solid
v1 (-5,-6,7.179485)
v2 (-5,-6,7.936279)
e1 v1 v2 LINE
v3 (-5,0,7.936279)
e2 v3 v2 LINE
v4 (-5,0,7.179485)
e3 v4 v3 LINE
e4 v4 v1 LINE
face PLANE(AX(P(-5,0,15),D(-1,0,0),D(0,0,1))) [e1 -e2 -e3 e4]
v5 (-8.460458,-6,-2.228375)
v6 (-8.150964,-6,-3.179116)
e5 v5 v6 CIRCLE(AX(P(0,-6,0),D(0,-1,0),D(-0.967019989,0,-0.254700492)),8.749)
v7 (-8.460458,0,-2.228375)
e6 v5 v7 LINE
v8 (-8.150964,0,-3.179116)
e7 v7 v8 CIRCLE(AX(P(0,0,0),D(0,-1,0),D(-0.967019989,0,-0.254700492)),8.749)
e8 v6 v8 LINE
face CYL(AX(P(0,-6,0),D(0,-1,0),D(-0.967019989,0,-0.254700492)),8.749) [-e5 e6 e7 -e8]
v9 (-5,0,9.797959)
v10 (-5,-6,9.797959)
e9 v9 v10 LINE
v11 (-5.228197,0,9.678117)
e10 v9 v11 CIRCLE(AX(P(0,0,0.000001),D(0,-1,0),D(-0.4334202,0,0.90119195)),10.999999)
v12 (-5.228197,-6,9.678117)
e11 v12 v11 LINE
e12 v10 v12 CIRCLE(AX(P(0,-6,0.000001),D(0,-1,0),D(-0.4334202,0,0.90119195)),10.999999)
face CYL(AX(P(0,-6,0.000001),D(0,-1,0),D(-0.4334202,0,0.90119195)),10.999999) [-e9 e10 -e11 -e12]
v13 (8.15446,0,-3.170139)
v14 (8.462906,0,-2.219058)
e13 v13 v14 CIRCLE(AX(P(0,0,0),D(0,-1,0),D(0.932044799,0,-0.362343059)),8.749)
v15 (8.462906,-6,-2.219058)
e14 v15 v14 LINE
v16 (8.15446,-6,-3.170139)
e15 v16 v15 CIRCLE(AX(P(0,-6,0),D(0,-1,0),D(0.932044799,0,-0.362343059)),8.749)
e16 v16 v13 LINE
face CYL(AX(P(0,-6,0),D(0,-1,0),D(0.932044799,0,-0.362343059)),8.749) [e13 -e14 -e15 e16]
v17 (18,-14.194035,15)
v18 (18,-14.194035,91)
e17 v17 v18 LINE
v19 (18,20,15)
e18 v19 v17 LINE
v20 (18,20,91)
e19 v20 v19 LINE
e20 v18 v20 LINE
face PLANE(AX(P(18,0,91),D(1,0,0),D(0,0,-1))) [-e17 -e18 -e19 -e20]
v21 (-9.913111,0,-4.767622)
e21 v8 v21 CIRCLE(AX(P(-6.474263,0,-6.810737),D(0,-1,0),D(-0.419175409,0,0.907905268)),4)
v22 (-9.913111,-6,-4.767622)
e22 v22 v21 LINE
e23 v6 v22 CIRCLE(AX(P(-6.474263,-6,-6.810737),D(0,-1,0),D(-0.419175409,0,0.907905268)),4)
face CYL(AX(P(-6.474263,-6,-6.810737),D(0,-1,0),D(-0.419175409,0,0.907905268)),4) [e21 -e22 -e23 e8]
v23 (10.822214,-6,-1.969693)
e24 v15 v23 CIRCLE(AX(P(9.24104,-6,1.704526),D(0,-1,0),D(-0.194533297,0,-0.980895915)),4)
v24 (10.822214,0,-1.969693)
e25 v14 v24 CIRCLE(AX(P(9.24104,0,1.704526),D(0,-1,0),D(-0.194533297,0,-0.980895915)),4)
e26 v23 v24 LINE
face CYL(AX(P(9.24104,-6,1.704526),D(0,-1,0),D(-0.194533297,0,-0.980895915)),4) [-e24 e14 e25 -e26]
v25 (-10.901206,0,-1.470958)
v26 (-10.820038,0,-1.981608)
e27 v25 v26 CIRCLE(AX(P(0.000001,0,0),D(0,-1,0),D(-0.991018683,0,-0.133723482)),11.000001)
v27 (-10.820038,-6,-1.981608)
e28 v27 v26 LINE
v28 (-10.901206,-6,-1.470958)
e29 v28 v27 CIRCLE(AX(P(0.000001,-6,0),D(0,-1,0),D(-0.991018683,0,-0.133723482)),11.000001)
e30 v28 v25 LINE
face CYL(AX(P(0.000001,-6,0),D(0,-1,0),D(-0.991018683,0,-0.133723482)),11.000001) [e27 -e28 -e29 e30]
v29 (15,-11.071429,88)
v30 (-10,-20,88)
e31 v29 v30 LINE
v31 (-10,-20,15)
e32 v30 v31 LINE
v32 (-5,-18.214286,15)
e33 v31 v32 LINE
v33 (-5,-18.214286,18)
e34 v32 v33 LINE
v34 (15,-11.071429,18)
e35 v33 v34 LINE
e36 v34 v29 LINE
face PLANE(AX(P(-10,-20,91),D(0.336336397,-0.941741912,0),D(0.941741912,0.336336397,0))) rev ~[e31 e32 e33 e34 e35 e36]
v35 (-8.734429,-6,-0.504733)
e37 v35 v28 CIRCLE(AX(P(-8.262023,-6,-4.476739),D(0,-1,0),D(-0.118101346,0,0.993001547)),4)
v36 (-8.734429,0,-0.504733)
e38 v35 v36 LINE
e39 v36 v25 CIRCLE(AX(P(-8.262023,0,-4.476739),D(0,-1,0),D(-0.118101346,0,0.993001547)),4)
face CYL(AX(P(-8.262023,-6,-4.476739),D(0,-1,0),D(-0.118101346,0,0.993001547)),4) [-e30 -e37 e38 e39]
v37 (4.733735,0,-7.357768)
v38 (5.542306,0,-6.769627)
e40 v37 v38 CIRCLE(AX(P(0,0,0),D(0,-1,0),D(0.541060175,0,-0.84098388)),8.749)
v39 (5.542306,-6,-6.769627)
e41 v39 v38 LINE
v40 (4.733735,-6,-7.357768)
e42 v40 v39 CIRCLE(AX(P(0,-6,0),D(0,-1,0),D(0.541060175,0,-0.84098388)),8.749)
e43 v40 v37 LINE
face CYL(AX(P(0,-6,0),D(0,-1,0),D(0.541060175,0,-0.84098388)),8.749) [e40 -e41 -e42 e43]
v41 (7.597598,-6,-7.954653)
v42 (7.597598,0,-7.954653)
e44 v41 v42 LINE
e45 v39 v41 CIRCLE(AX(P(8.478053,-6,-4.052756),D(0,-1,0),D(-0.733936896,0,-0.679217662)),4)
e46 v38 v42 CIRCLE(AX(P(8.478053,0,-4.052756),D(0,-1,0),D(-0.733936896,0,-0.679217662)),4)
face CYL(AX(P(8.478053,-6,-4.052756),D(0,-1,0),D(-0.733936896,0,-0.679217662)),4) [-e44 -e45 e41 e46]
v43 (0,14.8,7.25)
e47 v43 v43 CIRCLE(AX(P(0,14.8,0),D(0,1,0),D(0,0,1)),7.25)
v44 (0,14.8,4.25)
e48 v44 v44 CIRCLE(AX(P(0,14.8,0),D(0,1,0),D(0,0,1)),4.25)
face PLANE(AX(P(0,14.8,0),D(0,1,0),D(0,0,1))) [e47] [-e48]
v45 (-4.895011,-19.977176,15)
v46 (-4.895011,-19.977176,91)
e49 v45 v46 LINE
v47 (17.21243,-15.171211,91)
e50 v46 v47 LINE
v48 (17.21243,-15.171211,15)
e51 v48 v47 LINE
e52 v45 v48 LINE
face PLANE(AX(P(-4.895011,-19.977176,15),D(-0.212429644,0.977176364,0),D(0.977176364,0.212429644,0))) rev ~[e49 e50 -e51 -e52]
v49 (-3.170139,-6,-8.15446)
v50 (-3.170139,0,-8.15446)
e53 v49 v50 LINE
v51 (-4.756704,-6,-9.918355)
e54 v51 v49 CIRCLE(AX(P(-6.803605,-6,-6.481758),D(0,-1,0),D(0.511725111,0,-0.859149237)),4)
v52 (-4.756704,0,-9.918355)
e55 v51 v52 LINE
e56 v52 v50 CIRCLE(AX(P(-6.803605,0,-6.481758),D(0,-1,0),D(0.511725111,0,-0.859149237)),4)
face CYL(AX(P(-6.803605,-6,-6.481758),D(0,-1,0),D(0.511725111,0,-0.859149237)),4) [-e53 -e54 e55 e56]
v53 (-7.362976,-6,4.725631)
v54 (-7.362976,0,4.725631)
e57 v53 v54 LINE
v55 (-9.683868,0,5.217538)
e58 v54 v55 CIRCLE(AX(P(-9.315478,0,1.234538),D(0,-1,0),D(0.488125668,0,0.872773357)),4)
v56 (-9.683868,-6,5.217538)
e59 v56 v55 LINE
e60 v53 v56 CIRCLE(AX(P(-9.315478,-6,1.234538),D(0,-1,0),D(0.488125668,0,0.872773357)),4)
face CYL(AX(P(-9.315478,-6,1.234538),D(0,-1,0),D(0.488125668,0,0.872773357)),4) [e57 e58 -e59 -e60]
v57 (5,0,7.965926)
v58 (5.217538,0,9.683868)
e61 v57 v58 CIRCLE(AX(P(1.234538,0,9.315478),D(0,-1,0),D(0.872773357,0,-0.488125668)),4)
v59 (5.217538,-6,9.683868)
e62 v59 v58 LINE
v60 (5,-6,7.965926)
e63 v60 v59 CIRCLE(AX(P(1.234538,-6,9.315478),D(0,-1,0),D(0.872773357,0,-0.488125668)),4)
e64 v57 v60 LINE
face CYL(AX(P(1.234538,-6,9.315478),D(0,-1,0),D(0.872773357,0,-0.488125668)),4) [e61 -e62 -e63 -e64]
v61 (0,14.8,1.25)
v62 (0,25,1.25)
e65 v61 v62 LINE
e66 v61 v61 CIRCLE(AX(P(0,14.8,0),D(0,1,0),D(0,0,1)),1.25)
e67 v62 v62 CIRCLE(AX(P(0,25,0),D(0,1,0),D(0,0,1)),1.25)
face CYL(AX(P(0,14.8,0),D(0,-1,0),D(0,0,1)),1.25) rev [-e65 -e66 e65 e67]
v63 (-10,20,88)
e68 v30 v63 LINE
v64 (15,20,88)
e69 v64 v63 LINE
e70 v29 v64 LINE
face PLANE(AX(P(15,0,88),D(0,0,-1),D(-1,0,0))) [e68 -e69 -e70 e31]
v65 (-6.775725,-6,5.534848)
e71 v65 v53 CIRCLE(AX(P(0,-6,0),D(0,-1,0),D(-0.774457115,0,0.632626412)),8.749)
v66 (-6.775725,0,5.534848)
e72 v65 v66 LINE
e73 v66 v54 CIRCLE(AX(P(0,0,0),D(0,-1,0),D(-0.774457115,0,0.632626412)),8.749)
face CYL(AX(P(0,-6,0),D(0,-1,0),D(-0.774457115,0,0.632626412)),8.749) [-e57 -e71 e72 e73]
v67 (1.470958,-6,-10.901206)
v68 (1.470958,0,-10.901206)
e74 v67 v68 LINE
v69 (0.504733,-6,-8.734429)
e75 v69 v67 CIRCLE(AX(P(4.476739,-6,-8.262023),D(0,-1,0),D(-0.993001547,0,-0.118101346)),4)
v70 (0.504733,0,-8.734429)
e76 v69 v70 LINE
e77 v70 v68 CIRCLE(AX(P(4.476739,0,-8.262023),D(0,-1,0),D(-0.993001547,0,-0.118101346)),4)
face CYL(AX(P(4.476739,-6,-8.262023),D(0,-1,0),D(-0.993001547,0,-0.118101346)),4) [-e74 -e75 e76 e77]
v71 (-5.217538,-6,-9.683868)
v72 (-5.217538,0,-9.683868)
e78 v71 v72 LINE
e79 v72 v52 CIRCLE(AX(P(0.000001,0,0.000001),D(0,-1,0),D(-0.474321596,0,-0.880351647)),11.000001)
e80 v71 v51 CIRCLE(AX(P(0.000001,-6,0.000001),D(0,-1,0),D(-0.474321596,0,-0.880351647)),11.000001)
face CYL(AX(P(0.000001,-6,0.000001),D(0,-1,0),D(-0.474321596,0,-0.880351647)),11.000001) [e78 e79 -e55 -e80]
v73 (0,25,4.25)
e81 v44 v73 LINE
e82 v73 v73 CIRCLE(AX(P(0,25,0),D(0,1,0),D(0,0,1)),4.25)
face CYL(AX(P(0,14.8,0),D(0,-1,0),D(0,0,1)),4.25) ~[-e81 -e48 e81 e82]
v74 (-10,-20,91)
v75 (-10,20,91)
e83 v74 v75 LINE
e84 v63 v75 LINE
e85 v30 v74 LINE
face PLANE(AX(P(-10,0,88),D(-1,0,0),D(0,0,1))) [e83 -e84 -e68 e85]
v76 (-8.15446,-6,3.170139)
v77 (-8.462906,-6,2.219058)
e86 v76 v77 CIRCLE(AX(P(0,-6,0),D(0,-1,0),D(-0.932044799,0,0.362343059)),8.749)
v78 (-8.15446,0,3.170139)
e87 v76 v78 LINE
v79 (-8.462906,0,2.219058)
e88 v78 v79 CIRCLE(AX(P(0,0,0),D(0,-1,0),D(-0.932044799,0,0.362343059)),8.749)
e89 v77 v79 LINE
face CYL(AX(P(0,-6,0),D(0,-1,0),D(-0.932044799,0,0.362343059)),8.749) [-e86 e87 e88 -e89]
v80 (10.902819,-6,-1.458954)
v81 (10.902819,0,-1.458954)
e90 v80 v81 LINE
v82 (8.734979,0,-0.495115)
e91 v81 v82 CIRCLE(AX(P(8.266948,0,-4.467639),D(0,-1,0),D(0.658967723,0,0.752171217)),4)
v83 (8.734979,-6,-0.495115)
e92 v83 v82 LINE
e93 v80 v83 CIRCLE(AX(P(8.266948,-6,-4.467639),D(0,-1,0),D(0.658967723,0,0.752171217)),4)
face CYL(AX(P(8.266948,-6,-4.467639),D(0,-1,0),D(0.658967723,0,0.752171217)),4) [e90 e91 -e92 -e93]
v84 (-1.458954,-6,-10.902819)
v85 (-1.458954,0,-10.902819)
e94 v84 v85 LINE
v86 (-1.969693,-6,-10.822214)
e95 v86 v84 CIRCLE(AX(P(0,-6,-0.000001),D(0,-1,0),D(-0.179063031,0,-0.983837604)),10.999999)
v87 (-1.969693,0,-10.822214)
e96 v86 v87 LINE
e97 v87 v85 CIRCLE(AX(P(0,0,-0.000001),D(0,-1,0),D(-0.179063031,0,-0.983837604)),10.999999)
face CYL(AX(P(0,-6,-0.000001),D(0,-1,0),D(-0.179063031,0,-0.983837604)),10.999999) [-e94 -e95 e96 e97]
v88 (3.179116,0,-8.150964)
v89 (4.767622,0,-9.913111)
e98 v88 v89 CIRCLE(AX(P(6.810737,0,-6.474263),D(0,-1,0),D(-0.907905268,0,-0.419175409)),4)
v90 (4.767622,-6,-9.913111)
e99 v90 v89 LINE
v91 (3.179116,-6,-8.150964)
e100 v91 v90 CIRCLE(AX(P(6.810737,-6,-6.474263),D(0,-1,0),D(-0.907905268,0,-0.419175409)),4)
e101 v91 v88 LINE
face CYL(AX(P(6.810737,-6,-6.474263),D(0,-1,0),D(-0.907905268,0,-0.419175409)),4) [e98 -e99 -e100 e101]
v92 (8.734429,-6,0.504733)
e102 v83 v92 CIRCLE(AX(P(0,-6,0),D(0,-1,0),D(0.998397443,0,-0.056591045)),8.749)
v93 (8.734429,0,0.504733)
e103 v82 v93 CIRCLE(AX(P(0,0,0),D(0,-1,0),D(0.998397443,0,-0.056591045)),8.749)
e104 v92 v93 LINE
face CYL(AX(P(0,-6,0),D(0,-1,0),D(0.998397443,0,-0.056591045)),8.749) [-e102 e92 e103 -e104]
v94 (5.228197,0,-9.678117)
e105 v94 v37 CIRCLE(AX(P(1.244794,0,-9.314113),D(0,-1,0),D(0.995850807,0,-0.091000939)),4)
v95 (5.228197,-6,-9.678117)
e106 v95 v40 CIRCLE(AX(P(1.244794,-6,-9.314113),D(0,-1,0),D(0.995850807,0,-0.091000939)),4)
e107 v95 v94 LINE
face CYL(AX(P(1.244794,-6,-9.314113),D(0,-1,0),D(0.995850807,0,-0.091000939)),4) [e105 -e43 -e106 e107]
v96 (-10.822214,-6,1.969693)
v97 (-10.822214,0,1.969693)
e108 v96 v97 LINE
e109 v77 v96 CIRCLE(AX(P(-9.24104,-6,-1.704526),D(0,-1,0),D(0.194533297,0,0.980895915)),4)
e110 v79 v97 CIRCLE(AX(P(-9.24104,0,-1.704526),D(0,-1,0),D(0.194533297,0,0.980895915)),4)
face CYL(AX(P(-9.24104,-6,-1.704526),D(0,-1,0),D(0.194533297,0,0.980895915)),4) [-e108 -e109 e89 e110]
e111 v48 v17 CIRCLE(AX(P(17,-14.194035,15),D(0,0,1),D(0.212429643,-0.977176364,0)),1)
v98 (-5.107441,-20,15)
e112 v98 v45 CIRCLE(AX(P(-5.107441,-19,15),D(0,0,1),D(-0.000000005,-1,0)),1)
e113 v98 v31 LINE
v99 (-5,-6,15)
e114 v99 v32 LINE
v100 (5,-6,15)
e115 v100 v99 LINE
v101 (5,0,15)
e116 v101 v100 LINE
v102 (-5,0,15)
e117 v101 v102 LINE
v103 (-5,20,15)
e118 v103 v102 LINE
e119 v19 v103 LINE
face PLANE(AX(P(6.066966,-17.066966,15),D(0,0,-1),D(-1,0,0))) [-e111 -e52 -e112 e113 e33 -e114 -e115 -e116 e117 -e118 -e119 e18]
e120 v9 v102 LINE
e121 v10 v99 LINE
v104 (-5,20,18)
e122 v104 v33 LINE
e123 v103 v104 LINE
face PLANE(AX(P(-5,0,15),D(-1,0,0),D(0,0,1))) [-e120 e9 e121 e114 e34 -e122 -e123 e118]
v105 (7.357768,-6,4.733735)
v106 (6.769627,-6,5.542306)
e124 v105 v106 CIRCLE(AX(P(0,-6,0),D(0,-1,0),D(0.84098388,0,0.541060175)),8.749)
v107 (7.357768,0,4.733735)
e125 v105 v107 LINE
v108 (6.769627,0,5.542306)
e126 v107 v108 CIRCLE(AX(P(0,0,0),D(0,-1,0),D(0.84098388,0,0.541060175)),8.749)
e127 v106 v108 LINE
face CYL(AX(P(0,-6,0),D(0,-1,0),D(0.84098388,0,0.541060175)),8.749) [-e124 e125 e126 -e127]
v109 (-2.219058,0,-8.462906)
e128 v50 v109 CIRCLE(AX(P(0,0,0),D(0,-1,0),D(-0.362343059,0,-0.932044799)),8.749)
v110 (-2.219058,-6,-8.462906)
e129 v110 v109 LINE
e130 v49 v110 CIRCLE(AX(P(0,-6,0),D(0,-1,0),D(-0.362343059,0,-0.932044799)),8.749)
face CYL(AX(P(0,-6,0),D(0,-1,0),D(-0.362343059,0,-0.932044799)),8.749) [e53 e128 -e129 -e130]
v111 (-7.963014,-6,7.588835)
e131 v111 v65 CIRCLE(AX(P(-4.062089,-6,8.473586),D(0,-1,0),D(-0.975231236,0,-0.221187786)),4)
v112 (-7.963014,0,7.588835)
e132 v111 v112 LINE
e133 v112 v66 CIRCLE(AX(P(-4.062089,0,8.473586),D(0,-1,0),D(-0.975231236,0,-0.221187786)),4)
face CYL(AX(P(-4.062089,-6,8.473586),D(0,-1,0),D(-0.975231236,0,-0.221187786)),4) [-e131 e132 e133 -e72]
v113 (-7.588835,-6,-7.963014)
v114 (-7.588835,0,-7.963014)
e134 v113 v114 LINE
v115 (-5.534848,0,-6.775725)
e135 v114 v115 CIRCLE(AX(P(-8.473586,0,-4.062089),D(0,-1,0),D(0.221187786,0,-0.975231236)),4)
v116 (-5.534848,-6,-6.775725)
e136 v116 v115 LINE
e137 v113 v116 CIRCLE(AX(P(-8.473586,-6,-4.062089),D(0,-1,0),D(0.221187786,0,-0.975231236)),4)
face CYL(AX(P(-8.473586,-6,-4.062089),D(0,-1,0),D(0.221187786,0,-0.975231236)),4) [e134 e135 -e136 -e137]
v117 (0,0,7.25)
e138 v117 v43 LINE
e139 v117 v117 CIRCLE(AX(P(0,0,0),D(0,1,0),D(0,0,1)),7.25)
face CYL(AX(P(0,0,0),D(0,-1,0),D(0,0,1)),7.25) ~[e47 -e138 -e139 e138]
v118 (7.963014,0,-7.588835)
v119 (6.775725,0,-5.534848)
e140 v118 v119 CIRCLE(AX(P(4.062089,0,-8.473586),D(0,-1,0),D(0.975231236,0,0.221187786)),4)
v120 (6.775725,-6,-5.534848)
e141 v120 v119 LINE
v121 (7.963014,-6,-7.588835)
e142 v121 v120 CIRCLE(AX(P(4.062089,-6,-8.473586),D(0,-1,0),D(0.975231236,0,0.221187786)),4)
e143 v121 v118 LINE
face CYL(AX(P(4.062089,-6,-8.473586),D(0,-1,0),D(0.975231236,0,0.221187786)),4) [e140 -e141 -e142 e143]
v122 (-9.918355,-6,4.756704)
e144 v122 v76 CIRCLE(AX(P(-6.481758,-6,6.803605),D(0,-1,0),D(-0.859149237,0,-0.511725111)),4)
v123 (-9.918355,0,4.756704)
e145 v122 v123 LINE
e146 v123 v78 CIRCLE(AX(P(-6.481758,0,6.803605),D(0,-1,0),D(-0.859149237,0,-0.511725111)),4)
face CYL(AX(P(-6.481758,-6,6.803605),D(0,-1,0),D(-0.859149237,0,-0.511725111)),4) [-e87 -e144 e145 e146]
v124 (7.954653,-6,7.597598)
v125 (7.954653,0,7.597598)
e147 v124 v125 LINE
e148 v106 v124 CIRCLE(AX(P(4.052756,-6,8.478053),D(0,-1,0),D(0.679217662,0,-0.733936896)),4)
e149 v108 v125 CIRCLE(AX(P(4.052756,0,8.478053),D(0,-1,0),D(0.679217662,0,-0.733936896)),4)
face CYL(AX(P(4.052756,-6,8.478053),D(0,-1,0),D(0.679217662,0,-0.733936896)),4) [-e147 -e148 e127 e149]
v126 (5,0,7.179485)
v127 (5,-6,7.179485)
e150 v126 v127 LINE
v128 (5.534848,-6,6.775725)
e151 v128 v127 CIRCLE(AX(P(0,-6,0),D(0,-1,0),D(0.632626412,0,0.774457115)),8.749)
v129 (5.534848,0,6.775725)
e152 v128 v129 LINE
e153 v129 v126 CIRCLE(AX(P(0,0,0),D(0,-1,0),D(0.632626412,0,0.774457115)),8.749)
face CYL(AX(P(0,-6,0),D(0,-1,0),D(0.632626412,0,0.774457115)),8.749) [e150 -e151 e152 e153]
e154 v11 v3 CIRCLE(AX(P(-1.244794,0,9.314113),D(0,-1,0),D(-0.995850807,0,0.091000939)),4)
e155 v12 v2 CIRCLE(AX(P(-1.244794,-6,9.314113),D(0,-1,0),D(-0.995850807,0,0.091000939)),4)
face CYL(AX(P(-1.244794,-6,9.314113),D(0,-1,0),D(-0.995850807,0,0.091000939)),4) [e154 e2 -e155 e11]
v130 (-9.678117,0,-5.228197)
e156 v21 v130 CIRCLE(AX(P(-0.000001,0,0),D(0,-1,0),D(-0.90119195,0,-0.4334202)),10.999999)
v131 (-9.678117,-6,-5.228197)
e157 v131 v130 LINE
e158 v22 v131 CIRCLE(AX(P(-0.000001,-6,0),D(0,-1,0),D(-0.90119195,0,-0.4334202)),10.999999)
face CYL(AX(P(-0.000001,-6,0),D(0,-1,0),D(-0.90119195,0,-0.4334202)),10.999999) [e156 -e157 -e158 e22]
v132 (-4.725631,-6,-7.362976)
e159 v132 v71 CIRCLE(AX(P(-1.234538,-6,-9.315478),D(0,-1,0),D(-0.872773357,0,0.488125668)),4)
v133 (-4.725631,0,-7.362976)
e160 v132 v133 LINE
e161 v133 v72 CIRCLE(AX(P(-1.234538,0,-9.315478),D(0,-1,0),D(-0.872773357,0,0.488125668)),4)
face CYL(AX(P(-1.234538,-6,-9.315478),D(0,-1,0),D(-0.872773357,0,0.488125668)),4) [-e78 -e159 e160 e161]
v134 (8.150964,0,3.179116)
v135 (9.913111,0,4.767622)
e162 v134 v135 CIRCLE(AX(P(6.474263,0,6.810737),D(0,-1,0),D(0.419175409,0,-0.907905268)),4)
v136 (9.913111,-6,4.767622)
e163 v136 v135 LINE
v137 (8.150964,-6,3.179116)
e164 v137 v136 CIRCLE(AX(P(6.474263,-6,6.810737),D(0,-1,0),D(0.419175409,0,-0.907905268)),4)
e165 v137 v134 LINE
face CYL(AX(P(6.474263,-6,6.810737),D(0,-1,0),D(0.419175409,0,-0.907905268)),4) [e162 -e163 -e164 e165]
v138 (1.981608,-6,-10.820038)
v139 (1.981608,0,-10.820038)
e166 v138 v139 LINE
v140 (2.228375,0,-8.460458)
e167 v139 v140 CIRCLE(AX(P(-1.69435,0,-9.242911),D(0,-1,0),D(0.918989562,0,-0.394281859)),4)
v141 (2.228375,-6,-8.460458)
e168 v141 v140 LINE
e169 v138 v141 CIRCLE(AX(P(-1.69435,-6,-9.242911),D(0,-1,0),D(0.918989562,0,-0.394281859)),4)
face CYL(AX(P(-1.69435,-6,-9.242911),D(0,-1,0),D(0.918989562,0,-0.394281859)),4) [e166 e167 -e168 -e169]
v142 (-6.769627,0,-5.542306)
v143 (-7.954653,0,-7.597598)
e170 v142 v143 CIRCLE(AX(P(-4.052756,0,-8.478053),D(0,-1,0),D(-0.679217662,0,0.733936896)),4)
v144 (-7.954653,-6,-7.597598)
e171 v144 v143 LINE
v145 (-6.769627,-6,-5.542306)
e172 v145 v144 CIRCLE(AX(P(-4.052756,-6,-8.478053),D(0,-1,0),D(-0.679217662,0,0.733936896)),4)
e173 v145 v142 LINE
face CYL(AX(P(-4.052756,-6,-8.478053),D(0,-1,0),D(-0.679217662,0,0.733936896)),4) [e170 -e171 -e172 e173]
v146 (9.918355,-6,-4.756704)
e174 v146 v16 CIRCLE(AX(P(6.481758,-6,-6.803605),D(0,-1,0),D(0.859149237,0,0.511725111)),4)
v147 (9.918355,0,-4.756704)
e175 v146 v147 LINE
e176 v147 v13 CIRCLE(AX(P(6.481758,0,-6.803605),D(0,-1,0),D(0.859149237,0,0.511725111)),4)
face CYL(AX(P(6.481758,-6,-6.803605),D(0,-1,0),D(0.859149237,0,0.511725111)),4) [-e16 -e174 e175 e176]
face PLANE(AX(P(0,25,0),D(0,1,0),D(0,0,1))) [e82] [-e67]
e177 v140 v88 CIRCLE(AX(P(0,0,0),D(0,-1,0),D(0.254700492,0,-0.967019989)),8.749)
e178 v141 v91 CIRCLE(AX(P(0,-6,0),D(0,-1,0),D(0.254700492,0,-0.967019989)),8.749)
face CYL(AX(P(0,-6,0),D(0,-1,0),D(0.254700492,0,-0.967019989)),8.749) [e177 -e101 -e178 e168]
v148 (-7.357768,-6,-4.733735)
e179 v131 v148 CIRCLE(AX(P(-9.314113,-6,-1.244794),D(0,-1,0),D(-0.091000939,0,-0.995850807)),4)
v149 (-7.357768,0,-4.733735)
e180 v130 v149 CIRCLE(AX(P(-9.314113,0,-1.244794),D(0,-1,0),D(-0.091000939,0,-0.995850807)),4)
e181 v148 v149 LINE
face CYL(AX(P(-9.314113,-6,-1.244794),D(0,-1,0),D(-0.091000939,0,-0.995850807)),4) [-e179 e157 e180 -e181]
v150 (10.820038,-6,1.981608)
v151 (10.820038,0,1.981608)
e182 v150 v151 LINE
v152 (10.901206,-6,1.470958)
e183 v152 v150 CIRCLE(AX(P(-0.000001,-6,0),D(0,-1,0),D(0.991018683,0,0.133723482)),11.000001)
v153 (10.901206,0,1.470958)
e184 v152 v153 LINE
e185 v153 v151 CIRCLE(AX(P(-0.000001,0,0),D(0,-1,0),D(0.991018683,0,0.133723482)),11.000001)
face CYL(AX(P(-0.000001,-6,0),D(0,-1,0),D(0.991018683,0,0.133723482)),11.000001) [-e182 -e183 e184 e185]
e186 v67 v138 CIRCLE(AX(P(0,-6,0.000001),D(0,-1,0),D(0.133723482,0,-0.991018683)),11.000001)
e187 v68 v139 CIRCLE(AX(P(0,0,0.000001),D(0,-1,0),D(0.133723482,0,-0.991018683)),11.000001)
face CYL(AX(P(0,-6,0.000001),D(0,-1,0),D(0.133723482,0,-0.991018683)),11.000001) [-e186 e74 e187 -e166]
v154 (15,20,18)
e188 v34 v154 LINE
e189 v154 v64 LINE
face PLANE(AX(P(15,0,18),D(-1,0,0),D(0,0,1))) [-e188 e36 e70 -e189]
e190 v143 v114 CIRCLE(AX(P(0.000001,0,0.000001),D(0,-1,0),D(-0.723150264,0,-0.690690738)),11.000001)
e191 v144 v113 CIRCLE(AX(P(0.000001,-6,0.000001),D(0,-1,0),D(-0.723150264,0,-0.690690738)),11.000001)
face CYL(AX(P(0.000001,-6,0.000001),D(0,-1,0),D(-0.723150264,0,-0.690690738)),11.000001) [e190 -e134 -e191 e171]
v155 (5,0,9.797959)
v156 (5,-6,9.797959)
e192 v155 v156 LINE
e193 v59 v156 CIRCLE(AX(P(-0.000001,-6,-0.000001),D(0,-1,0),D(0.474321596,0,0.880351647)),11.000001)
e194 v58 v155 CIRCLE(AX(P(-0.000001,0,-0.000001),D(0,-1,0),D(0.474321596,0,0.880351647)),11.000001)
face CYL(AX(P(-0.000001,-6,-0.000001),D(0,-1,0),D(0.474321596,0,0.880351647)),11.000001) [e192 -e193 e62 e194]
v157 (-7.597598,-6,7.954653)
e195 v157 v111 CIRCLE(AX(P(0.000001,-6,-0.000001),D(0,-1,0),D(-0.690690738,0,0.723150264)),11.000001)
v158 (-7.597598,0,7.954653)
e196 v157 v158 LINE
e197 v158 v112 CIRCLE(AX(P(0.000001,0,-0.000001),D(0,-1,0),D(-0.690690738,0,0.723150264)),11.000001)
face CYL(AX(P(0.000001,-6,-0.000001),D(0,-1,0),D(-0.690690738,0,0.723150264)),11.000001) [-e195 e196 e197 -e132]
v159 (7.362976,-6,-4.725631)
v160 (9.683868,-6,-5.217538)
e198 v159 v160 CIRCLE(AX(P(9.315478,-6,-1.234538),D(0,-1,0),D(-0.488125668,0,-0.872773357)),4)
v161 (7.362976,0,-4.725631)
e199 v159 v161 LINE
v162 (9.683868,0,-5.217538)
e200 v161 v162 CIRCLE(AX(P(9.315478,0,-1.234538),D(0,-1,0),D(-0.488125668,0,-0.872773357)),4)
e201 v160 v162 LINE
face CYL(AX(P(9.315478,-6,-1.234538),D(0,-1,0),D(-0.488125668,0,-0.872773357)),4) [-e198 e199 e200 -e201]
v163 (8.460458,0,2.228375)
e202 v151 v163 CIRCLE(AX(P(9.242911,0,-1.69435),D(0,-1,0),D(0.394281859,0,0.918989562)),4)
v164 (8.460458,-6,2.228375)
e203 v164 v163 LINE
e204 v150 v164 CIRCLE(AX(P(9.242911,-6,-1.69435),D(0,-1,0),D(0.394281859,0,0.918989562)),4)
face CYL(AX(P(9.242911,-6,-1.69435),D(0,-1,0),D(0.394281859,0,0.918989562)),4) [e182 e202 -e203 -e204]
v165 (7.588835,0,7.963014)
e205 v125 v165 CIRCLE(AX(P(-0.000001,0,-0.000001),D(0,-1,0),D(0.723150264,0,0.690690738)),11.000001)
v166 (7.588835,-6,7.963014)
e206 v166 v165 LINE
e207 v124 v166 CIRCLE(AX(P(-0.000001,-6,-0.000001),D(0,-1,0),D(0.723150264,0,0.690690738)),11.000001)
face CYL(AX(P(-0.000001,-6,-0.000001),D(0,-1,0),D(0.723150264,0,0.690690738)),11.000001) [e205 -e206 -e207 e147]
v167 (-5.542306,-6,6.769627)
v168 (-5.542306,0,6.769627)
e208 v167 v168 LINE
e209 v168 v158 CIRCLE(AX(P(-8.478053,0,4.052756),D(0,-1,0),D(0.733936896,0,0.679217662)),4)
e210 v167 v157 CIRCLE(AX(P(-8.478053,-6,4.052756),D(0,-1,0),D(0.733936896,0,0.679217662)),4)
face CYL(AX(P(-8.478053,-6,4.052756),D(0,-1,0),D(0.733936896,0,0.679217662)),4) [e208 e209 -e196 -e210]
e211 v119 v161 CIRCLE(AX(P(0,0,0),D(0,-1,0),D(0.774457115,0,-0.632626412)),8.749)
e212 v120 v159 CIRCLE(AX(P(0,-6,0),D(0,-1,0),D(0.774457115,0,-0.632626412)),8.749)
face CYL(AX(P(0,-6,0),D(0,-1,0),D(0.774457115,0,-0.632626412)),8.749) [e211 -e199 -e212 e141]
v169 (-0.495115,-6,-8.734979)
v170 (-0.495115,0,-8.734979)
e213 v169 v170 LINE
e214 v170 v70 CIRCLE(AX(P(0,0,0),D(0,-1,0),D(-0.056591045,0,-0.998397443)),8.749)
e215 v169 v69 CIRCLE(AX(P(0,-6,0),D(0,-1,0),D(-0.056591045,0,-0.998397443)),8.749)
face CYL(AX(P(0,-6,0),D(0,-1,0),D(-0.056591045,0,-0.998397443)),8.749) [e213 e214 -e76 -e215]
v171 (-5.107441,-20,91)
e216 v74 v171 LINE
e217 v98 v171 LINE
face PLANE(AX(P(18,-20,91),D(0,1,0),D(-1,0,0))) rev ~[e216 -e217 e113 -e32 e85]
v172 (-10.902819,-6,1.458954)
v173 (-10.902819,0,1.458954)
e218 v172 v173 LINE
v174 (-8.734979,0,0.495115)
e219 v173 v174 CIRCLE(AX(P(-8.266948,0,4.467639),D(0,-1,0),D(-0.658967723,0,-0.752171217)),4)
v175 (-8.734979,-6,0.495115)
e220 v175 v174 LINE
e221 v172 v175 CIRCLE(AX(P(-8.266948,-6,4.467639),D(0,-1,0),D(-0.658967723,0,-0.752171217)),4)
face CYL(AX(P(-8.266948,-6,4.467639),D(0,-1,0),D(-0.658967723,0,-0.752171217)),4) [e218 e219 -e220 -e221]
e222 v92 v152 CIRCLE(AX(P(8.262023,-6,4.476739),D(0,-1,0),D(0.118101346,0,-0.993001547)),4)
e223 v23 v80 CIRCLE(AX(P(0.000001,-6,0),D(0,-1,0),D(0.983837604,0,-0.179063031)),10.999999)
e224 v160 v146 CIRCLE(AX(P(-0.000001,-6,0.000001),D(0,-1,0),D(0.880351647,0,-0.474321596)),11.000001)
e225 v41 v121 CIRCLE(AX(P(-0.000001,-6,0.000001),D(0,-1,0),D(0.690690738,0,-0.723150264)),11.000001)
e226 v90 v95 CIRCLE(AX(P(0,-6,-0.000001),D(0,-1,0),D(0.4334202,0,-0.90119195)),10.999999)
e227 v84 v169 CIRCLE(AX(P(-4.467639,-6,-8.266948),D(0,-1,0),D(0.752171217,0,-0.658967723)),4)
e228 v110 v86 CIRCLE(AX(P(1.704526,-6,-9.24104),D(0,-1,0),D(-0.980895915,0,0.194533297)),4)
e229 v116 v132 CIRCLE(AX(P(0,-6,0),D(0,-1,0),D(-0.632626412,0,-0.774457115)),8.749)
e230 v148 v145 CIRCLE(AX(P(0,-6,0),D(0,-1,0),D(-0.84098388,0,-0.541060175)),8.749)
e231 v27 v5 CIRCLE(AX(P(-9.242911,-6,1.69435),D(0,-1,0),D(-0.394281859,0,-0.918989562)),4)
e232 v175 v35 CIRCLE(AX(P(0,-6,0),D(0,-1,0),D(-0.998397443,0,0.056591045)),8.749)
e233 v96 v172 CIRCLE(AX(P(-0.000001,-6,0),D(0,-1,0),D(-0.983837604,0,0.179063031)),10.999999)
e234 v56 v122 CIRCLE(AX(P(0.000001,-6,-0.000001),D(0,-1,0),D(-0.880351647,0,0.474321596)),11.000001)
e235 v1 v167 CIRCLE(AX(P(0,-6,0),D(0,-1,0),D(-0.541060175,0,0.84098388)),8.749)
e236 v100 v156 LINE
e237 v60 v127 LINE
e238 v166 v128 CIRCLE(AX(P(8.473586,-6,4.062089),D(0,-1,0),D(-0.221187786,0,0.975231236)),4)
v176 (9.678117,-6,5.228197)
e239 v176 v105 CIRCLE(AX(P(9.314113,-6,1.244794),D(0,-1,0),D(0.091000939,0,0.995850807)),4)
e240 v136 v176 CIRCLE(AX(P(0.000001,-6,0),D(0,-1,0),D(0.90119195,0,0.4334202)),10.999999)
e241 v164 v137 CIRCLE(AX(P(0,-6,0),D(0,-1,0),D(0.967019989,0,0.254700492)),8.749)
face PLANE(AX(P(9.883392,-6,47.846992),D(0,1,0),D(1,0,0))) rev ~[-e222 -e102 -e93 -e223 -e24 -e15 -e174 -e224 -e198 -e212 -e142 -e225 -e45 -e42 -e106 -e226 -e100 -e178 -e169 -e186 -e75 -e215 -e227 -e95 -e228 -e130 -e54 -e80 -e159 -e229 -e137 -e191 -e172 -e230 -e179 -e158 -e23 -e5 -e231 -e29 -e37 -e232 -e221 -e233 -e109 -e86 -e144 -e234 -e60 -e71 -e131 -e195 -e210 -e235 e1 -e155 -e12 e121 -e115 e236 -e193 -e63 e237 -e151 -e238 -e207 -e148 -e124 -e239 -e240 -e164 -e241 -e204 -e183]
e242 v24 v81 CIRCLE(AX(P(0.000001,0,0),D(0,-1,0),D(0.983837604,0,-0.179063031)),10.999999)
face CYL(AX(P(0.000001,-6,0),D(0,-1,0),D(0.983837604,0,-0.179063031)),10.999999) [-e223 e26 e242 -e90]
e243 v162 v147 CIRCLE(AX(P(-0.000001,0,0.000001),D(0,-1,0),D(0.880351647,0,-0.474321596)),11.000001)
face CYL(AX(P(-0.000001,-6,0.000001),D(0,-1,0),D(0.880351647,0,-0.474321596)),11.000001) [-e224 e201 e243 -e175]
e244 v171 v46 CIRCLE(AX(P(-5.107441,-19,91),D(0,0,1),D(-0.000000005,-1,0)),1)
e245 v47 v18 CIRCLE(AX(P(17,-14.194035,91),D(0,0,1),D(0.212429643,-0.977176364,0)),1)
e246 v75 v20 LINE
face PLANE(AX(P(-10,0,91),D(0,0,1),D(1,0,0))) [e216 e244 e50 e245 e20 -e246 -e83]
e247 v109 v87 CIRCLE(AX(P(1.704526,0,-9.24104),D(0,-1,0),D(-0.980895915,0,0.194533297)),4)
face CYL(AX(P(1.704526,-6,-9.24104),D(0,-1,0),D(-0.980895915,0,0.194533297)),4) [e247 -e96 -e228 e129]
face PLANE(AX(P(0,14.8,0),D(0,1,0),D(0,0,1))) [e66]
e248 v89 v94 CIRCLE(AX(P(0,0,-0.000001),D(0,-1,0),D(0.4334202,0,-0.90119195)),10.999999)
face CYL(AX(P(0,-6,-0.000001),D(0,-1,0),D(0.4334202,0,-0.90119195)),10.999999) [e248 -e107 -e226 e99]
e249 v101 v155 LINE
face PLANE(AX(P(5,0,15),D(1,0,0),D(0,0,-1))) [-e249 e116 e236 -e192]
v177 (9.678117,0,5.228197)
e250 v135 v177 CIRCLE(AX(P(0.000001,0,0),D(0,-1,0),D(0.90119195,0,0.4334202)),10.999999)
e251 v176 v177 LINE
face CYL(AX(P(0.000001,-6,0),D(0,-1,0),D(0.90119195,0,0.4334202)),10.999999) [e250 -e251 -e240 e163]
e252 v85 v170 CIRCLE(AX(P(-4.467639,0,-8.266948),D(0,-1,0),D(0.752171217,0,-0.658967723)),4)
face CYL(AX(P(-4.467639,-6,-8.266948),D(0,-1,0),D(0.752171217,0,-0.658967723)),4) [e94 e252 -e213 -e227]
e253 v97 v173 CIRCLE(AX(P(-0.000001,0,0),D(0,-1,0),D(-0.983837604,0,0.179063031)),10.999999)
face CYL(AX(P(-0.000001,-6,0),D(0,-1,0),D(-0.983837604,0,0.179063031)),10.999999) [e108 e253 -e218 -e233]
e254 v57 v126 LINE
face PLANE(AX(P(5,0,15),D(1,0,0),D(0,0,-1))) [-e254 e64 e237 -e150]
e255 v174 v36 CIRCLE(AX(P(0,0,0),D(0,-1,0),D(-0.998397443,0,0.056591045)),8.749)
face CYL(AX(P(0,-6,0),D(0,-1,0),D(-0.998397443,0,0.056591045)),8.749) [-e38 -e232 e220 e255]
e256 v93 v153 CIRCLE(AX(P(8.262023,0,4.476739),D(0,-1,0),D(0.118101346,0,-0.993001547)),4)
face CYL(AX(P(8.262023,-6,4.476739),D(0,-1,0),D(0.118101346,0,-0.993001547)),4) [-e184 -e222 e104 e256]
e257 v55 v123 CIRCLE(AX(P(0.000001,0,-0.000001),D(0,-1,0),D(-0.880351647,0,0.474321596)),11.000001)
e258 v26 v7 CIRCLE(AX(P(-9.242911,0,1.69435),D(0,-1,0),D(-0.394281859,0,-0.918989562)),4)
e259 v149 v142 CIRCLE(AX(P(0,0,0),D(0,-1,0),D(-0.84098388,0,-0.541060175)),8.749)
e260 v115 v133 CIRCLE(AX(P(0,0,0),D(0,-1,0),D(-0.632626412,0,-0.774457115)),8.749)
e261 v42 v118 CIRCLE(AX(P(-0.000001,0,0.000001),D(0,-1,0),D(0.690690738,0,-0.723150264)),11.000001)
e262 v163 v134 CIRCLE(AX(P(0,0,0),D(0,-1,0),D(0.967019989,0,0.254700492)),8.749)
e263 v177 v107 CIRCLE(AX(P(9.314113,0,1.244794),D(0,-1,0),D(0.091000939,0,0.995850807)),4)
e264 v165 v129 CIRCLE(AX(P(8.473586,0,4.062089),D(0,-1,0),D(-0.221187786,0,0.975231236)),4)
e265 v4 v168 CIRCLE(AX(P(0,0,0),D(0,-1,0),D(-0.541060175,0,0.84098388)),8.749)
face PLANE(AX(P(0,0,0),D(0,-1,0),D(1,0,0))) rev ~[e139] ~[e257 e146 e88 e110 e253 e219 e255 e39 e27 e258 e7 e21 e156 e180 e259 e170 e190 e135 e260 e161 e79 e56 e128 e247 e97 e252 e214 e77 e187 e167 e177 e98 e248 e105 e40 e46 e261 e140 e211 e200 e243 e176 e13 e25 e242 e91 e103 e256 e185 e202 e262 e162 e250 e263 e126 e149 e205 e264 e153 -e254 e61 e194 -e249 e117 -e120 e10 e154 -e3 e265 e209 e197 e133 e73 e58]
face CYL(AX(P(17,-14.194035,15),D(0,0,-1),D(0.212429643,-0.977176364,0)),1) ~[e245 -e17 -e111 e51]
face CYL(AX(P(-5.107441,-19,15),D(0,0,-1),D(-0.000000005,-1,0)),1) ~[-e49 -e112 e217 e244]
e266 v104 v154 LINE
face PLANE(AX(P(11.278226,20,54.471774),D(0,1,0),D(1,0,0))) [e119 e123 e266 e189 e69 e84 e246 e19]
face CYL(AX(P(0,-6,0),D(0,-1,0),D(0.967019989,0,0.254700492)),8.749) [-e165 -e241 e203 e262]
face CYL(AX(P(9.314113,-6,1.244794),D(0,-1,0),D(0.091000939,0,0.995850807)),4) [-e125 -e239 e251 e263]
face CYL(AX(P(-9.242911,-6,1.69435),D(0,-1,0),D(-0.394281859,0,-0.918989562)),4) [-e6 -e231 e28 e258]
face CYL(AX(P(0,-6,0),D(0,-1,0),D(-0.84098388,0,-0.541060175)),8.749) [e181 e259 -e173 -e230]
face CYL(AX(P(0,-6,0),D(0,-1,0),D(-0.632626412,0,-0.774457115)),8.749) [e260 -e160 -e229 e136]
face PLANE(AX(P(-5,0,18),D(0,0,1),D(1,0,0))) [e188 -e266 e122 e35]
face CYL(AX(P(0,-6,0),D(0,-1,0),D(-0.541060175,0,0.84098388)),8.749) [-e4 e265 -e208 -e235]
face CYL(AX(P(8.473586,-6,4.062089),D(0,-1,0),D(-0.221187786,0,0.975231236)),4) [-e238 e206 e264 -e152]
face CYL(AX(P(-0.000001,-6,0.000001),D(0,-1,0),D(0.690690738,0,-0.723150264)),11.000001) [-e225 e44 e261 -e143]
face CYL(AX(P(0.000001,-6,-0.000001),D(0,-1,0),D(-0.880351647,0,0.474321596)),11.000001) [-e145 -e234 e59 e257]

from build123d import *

# Parameters (mm, degrees)
EXTRUDE_1_DEPTH     = 6
EXTRUDE_2_DEPTH     = 20
EXTRUDE_4_DEPTH     = 6
SKETCH_5_R          = 7.25
EXTRUDE_5_DEPTH     = 14.8
SKETCH_6_R          = 4.25
SKETCH_6_R_2        = 1.25
EXTRUDE_6_DEPTH     = 10.2
EXTRUDE_7_DEPTH     = 76
CUT_EXTRUDE_1_DEPTH = 76


with BuildPart() as part:
    # 草图1 → 凸台-拉伸1 (new body)
    with BuildSketch(Plane(origin=(0, 0, 0), x_dir=(1, 0, 0), z_dir=(0, 1, 0))):
        with BuildLine():
            Line((-5, 0), (-5, -18))
            Line((-5, -18), (15, -18))
            Line((15, -18), (15, -88))
            Line((15, -88), (-10, -88))
            Line((-10, -88), (-10, -91))
            Line((-10, -91), (18, -91))
            Line((18, -91), (18, -15))
            Line((18, -15), (5, -15))
            Line((5, -15), (5, 0))
            ThreePointArc((5, 0), (0, 5), (-5, 0))
        make_face()
    extrude(amount=-EXTRUDE_1_DEPTH)

    # 草图2 → 凸台-拉伸2 (add, symmetric)
    with BuildSketch(Plane(origin=(0, 0, 0), x_dir=(1, 0, 0), z_dir=(0, 1, 0))):
        Polygon((-5, -18), (15, -18), (15, -88), (-10, -88), (-10, -91), (18, -91), (18, -15), (-5, -15), align=None)
    extrude(amount=EXTRUDE_2_DEPTH, both=True)

    # 草图4 → 凸台-拉伸4 (add)
    with BuildSketch(Plane.XZ.offset(6)):
        with BuildLine():
            ThreePointArc((-0.504732798, 8.734428762), (-0.823506466, 9.891100464), (-1.470958285, 10.901205517))
            ThreePointArc((-1.470958285, 10.901205517), (-1.726760313, 10.86362273), (-1.981608382, 10.820038273))
            ThreePointArc((-1.981608382, 10.820038273), (-2.283953757, 9.65896405), (-2.228374617, 8.460457882))
            ThreePointArc((-2.228374617, 8.460457882), (-2.708170263, 8.319303747), (-3.17911634, 8.150964378))
            ThreePointArc((-3.17911634, 8.150964378), (-3.839719327, 9.152518056), (-4.767622226, 9.913111434))
            ThreePointArc((-4.767622226, 9.913111434), (-4.999290692, 9.798320906), (-5.228197271, 9.678117239))
            ThreePointArc((-5.228197271, 9.678117239), (-5.156953143, 8.480440175), (-4.733735466, 7.357767973))
            ThreePointArc((-4.733735466, 7.357767973), (-5.146429214, 7.075257405), (-5.542305825, 6.76962681))
            ThreePointArc((-5.542305825, 6.76962681), (-6.480073708, 7.518023412), (-7.597598086, 7.954652936))
            ThreePointArc((-7.597598086, 7.954652936), (-7.782455665, 7.773891163), (-7.963013783, 7.588834659))
            ThreePointArc((-7.963013783, 7.588834659), (-7.525154025, 6.471791729), (-6.775725305, 5.53484847))
            ThreePointArc((-6.775725305, 5.53484847), (-7.080919818, 5.138635571), (-7.3629758, 4.725631002))
            ThreePointArc((-7.3629758, 4.725631002), (-8.486113324, 5.147612255), (-9.683868109, 5.217537585))
            ThreePointArc((-9.683868109, 5.217537585), (-9.803819655, 4.988498789), (-9.918355025, 4.756704069))
            ThreePointArc((-9.918355025, 4.756704069), (-9.1567404, 3.829639217), (-8.154459943, 3.170139435))
            ThreePointArc((-8.154459943, 3.170139435), (-8.322280653, 2.699008286), (-8.462906403, 2.219057507))
            ThreePointArc((-8.462906403, 2.219057507), (-9.661473042, 2.273316945), (-10.82221365, 1.969693302))
            ThreePointArc((-10.82221365, 1.969693302), (-10.86551747, 1.714797397), (-10.902818572, 1.458954141))
            ThreePointArc((-10.902818572, 1.458954141), (-9.892001226, 0.812614936), (-8.734979226, 0.495115065))
            ThreePointArc((-8.734979226, 0.495115065), (-8.748998674, -0.004816736), (-8.734428762, -0.504732798))
            ThreePointArc((-8.734428762, -0.504732798), (-9.891100464, -0.823506466), (-10.901205517, -1.470958285))
            ThreePointArc((-10.901205517, -1.470958285), (-10.86362273, -1.726760313), (-10.820038273, -1.981608382))
            ThreePointArc((-10.820038273, -1.981608382), (-9.65896405, -2.283953757), (-8.460457882, -2.228374617))
            ThreePointArc((-8.460457882, -2.228374617), (-8.319303747, -2.708170263), (-8.150964378, -3.17911634))
            ThreePointArc((-8.150964378, -3.17911634), (-9.152518056, -3.839719327), (-9.913111434, -4.767622226))
            ThreePointArc((-9.913111434, -4.767622226), (-9.798320906, -4.999290692), (-9.678117239, -5.228197271))
            ThreePointArc((-9.678117239, -5.228197271), (-8.480440175, -5.156953143), (-7.357767973, -4.733735466))
            ThreePointArc((-7.357767973, -4.733735466), (-7.075257405, -5.146429214), (-6.76962681, -5.542305825))
            ThreePointArc((-6.76962681, -5.542305825), (-7.518023412, -6.480073708), (-7.954652936, -7.597598086))
            ThreePointArc((-7.954652936, -7.597598086), (-7.773891163, -7.782455665), (-7.588834659, -7.963013783))
            ThreePointArc((-7.588834659, -7.963013783), (-6.471791729, -7.525154025), (-5.53484847, -6.775725305))
            ThreePointArc((-5.53484847, -6.775725305), (-5.138635571, -7.080919818), (-4.725631002, -7.3629758))
            ThreePointArc((-4.725631002, -7.3629758), (-5.147612255, -8.486113324), (-5.217537585, -9.683868109))
            ThreePointArc((-5.217537585, -9.683868109), (-4.988498789, -9.803819655), (-4.756704069, -9.918355025))
            ThreePointArc((-4.756704069, -9.918355025), (-3.829639217, -9.1567404), (-3.170139435, -8.154459943))
            ThreePointArc((-3.170139435, -8.154459943), (-2.699008286, -8.322280653), (-2.219057507, -8.462906403))
            ThreePointArc((-2.219057507, -8.462906403), (-2.273316945, -9.661473042), (-1.969693302, -10.82221365))
            ThreePointArc((-1.969693302, -10.82221365), (-1.714797397, -10.86551747), (-1.458954141, -10.902818572))
            ThreePointArc((-1.458954141, -10.902818572), (-0.812614936, -9.892001226), (-0.495115065, -8.734979226))
            ThreePointArc((-0.495115065, -8.734979226), (0.004816736, -8.748998674), (0.504732798, -8.734428762))
            ThreePointArc((0.504732798, -8.734428762), (0.823506466, -9.891100464), (1.470958285, -10.901205517))
            ThreePointArc((1.470958285, -10.901205517), (1.726760313, -10.86362273), (1.981608382, -10.820038273))
            ThreePointArc((1.981608382, -10.820038273), (2.283953757, -9.65896405), (2.228374617, -8.460457882))
            ThreePointArc((2.228374617, -8.460457882), (2.708170263, -8.319303747), (3.17911634, -8.150964378))
            ThreePointArc((3.17911634, -8.150964378), (3.839719327, -9.152518056), (4.767622226, -9.913111434))
            ThreePointArc((4.767622226, -9.913111434), (4.999290692, -9.798320906), (5.228197271, -9.678117239))
            ThreePointArc((5.228197271, -9.678117239), (5.156953143, -8.480440175), (4.733735466, -7.357767973))
            ThreePointArc((4.733735466, -7.357767973), (5.146429214, -7.075257405), (5.542305825, -6.76962681))
            ThreePointArc((5.542305825, -6.76962681), (6.480073708, -7.518023412), (7.597598086, -7.954652936))
            ThreePointArc((7.597598086, -7.954652936), (7.782455665, -7.773891163), (7.963013783, -7.588834659))
            ThreePointArc((7.963013783, -7.588834659), (7.525154025, -6.471791729), (6.775725305, -5.53484847))
            ThreePointArc((6.775725305, -5.53484847), (7.080919818, -5.138635571), (7.3629758, -4.725631002))
            ThreePointArc((7.3629758, -4.725631002), (8.486113324, -5.147612255), (9.683868109, -5.217537585))
            ThreePointArc((9.683868109, -5.217537585), (9.803819655, -4.988498789), (9.918355025, -4.756704069))
            ThreePointArc((9.918355025, -4.756704069), (9.1567404, -3.829639217), (8.154459943, -3.170139435))
            ThreePointArc((8.154459943, -3.170139435), (8.322280653, -2.699008286), (8.462906403, -2.219057507))
            ThreePointArc((8.462906403, -2.219057507), (9.661473042, -2.273316945), (10.82221365, -1.969693302))
            ThreePointArc((10.82221365, -1.969693302), (10.86551747, -1.714797397), (10.902818572, -1.458954141))
            ThreePointArc((10.902818572, -1.458954141), (9.892001226, -0.812614936), (8.734979226, -0.495115065))
            ThreePointArc((8.734979226, -0.495115065), (8.748998674, 0.004816736), (8.734428762, 0.504732798))
            ThreePointArc((8.734428762, 0.504732798), (9.891100464, 0.823506466), (10.901205517, 1.470958285))
            ThreePointArc((10.901205517, 1.470958285), (10.86362273, 1.726760313), (10.820038273, 1.981608382))
            ThreePointArc((10.820038273, 1.981608382), (9.65896405, 2.283953757), (8.460457882, 2.228374617))
            ThreePointArc((8.460457882, 2.228374617), (8.319303747, 2.708170263), (8.150964378, 3.17911634))
            ThreePointArc((8.150964378, 3.17911634), (9.152518056, 3.839719327), (9.913111434, 4.767622226))
            ThreePointArc((9.913111434, 4.767622226), (9.798320906, 4.999290692), (9.678117239, 5.228197271))
            ThreePointArc((9.678117239, 5.228197271), (8.480440175, 5.156953143), (7.357767973, 4.733735466))
            ThreePointArc((7.357767973, 4.733735466), (7.075257405, 5.146429214), (6.76962681, 5.542305825))
            ThreePointArc((6.76962681, 5.542305825), (7.518023412, 6.480073708), (7.954652936, 7.597598086))
            ThreePointArc((7.954652936, 7.597598086), (7.773891163, 7.782455665), (7.588834659, 7.963013783))
            ThreePointArc((7.588834659, 7.963013783), (6.471791729, 7.525154025), (5.53484847, 6.775725305))
            ThreePointArc((5.53484847, 6.775725305), (5.138635571, 7.080919818), (4.725631002, 7.3629758))
            ThreePointArc((4.725631002, 7.3629758), (5.147612255, 8.486113324), (5.217537585, 9.683868109))
            ThreePointArc((5.217537585, 9.683868109), (4.988498789, 9.803819655), (4.756704069, 9.918355025))
            ThreePointArc((4.756704069, 9.918355025), (3.829639217, 9.1567404), (3.170139435, 8.154459943))
            ThreePointArc((3.170139435, 8.154459943), (2.699008286, 8.322280653), (2.219057507, 8.462906403))
            ThreePointArc((2.219057507, 8.462906403), (2.273316945, 9.661473042), (1.969693302, 10.82221365))
            ThreePointArc((1.969693302, 10.82221365), (1.714797397, 10.86551747), (1.458954141, 10.902818572))
            ThreePointArc((1.458954141, 10.902818572), (0.812614936, 9.892001226), (0.495115065, 8.734979226))
            ThreePointArc((0.495115065, 8.734979226), (-0.004816736, 8.748998674), (-0.504732798, 8.734428762))
        make_face()
    extrude(amount=-EXTRUDE_4_DEPTH)

    # 草图5 → 凸台-拉伸5 (add)
    with BuildSketch(Plane(origin=(0, 0, 0), x_dir=(1, 0, 0), z_dir=(0, 1, 0))):
        with Locations(Location((0, 0, 0), (0, 0, 270))):
            Circle(SKETCH_5_R)
    extrude(amount=EXTRUDE_5_DEPTH)

    # 草图6 → 凸台-拉伸6 (add)
    with BuildSketch(Plane(origin=(0, 14.8, 0), x_dir=(1, 0, 0), z_dir=(0, 1, 0))):
        with Locations(Location((0, 0, 0), (0, 0, 270))):
            Circle(SKETCH_6_R)
        with Locations(Location((0, 0, 0), (0, 0, 270))):
            Circle(SKETCH_6_R_2, mode=Mode.SUBTRACT)
    extrude(amount=EXTRUDE_6_DEPTH)

    # 草图8 → 凸台-拉伸7 (add)
    with BuildSketch(Plane.XY.offset(91)):
        Polygon((-10, -20), (18, -10), (18, -20), align=None)
    extrude(amount=-EXTRUDE_7_DEPTH)

    # 草图9 → 切除-拉伸1 (cut)
    with BuildSketch(Plane(origin=(0, 0, 15), x_dir=(-1, 0, 0), z_dir=(0, 0, -1))):
        with BuildLine():
            Line((4.895011274, -19.977176364), (-17.212429644, -15.171210947))
            ThreePointArc((-17.212429644, -15.171210947), (-17.778597985, -14.821557633), (-18, -14.194034583))
            Line((-18, -14.194034583), (-18, -20))
            Line((-18, -20), (5.107440918, -20))
            ThreePointArc((5.107440918, -20), (5.000614807, -19.994277719), (4.895011274, -19.977176364))
        make_face()
    extrude(amount=-CUT_EXTRUDE_1_DEPTH, mode=Mode.SUBTRACT)


solid = part.part
